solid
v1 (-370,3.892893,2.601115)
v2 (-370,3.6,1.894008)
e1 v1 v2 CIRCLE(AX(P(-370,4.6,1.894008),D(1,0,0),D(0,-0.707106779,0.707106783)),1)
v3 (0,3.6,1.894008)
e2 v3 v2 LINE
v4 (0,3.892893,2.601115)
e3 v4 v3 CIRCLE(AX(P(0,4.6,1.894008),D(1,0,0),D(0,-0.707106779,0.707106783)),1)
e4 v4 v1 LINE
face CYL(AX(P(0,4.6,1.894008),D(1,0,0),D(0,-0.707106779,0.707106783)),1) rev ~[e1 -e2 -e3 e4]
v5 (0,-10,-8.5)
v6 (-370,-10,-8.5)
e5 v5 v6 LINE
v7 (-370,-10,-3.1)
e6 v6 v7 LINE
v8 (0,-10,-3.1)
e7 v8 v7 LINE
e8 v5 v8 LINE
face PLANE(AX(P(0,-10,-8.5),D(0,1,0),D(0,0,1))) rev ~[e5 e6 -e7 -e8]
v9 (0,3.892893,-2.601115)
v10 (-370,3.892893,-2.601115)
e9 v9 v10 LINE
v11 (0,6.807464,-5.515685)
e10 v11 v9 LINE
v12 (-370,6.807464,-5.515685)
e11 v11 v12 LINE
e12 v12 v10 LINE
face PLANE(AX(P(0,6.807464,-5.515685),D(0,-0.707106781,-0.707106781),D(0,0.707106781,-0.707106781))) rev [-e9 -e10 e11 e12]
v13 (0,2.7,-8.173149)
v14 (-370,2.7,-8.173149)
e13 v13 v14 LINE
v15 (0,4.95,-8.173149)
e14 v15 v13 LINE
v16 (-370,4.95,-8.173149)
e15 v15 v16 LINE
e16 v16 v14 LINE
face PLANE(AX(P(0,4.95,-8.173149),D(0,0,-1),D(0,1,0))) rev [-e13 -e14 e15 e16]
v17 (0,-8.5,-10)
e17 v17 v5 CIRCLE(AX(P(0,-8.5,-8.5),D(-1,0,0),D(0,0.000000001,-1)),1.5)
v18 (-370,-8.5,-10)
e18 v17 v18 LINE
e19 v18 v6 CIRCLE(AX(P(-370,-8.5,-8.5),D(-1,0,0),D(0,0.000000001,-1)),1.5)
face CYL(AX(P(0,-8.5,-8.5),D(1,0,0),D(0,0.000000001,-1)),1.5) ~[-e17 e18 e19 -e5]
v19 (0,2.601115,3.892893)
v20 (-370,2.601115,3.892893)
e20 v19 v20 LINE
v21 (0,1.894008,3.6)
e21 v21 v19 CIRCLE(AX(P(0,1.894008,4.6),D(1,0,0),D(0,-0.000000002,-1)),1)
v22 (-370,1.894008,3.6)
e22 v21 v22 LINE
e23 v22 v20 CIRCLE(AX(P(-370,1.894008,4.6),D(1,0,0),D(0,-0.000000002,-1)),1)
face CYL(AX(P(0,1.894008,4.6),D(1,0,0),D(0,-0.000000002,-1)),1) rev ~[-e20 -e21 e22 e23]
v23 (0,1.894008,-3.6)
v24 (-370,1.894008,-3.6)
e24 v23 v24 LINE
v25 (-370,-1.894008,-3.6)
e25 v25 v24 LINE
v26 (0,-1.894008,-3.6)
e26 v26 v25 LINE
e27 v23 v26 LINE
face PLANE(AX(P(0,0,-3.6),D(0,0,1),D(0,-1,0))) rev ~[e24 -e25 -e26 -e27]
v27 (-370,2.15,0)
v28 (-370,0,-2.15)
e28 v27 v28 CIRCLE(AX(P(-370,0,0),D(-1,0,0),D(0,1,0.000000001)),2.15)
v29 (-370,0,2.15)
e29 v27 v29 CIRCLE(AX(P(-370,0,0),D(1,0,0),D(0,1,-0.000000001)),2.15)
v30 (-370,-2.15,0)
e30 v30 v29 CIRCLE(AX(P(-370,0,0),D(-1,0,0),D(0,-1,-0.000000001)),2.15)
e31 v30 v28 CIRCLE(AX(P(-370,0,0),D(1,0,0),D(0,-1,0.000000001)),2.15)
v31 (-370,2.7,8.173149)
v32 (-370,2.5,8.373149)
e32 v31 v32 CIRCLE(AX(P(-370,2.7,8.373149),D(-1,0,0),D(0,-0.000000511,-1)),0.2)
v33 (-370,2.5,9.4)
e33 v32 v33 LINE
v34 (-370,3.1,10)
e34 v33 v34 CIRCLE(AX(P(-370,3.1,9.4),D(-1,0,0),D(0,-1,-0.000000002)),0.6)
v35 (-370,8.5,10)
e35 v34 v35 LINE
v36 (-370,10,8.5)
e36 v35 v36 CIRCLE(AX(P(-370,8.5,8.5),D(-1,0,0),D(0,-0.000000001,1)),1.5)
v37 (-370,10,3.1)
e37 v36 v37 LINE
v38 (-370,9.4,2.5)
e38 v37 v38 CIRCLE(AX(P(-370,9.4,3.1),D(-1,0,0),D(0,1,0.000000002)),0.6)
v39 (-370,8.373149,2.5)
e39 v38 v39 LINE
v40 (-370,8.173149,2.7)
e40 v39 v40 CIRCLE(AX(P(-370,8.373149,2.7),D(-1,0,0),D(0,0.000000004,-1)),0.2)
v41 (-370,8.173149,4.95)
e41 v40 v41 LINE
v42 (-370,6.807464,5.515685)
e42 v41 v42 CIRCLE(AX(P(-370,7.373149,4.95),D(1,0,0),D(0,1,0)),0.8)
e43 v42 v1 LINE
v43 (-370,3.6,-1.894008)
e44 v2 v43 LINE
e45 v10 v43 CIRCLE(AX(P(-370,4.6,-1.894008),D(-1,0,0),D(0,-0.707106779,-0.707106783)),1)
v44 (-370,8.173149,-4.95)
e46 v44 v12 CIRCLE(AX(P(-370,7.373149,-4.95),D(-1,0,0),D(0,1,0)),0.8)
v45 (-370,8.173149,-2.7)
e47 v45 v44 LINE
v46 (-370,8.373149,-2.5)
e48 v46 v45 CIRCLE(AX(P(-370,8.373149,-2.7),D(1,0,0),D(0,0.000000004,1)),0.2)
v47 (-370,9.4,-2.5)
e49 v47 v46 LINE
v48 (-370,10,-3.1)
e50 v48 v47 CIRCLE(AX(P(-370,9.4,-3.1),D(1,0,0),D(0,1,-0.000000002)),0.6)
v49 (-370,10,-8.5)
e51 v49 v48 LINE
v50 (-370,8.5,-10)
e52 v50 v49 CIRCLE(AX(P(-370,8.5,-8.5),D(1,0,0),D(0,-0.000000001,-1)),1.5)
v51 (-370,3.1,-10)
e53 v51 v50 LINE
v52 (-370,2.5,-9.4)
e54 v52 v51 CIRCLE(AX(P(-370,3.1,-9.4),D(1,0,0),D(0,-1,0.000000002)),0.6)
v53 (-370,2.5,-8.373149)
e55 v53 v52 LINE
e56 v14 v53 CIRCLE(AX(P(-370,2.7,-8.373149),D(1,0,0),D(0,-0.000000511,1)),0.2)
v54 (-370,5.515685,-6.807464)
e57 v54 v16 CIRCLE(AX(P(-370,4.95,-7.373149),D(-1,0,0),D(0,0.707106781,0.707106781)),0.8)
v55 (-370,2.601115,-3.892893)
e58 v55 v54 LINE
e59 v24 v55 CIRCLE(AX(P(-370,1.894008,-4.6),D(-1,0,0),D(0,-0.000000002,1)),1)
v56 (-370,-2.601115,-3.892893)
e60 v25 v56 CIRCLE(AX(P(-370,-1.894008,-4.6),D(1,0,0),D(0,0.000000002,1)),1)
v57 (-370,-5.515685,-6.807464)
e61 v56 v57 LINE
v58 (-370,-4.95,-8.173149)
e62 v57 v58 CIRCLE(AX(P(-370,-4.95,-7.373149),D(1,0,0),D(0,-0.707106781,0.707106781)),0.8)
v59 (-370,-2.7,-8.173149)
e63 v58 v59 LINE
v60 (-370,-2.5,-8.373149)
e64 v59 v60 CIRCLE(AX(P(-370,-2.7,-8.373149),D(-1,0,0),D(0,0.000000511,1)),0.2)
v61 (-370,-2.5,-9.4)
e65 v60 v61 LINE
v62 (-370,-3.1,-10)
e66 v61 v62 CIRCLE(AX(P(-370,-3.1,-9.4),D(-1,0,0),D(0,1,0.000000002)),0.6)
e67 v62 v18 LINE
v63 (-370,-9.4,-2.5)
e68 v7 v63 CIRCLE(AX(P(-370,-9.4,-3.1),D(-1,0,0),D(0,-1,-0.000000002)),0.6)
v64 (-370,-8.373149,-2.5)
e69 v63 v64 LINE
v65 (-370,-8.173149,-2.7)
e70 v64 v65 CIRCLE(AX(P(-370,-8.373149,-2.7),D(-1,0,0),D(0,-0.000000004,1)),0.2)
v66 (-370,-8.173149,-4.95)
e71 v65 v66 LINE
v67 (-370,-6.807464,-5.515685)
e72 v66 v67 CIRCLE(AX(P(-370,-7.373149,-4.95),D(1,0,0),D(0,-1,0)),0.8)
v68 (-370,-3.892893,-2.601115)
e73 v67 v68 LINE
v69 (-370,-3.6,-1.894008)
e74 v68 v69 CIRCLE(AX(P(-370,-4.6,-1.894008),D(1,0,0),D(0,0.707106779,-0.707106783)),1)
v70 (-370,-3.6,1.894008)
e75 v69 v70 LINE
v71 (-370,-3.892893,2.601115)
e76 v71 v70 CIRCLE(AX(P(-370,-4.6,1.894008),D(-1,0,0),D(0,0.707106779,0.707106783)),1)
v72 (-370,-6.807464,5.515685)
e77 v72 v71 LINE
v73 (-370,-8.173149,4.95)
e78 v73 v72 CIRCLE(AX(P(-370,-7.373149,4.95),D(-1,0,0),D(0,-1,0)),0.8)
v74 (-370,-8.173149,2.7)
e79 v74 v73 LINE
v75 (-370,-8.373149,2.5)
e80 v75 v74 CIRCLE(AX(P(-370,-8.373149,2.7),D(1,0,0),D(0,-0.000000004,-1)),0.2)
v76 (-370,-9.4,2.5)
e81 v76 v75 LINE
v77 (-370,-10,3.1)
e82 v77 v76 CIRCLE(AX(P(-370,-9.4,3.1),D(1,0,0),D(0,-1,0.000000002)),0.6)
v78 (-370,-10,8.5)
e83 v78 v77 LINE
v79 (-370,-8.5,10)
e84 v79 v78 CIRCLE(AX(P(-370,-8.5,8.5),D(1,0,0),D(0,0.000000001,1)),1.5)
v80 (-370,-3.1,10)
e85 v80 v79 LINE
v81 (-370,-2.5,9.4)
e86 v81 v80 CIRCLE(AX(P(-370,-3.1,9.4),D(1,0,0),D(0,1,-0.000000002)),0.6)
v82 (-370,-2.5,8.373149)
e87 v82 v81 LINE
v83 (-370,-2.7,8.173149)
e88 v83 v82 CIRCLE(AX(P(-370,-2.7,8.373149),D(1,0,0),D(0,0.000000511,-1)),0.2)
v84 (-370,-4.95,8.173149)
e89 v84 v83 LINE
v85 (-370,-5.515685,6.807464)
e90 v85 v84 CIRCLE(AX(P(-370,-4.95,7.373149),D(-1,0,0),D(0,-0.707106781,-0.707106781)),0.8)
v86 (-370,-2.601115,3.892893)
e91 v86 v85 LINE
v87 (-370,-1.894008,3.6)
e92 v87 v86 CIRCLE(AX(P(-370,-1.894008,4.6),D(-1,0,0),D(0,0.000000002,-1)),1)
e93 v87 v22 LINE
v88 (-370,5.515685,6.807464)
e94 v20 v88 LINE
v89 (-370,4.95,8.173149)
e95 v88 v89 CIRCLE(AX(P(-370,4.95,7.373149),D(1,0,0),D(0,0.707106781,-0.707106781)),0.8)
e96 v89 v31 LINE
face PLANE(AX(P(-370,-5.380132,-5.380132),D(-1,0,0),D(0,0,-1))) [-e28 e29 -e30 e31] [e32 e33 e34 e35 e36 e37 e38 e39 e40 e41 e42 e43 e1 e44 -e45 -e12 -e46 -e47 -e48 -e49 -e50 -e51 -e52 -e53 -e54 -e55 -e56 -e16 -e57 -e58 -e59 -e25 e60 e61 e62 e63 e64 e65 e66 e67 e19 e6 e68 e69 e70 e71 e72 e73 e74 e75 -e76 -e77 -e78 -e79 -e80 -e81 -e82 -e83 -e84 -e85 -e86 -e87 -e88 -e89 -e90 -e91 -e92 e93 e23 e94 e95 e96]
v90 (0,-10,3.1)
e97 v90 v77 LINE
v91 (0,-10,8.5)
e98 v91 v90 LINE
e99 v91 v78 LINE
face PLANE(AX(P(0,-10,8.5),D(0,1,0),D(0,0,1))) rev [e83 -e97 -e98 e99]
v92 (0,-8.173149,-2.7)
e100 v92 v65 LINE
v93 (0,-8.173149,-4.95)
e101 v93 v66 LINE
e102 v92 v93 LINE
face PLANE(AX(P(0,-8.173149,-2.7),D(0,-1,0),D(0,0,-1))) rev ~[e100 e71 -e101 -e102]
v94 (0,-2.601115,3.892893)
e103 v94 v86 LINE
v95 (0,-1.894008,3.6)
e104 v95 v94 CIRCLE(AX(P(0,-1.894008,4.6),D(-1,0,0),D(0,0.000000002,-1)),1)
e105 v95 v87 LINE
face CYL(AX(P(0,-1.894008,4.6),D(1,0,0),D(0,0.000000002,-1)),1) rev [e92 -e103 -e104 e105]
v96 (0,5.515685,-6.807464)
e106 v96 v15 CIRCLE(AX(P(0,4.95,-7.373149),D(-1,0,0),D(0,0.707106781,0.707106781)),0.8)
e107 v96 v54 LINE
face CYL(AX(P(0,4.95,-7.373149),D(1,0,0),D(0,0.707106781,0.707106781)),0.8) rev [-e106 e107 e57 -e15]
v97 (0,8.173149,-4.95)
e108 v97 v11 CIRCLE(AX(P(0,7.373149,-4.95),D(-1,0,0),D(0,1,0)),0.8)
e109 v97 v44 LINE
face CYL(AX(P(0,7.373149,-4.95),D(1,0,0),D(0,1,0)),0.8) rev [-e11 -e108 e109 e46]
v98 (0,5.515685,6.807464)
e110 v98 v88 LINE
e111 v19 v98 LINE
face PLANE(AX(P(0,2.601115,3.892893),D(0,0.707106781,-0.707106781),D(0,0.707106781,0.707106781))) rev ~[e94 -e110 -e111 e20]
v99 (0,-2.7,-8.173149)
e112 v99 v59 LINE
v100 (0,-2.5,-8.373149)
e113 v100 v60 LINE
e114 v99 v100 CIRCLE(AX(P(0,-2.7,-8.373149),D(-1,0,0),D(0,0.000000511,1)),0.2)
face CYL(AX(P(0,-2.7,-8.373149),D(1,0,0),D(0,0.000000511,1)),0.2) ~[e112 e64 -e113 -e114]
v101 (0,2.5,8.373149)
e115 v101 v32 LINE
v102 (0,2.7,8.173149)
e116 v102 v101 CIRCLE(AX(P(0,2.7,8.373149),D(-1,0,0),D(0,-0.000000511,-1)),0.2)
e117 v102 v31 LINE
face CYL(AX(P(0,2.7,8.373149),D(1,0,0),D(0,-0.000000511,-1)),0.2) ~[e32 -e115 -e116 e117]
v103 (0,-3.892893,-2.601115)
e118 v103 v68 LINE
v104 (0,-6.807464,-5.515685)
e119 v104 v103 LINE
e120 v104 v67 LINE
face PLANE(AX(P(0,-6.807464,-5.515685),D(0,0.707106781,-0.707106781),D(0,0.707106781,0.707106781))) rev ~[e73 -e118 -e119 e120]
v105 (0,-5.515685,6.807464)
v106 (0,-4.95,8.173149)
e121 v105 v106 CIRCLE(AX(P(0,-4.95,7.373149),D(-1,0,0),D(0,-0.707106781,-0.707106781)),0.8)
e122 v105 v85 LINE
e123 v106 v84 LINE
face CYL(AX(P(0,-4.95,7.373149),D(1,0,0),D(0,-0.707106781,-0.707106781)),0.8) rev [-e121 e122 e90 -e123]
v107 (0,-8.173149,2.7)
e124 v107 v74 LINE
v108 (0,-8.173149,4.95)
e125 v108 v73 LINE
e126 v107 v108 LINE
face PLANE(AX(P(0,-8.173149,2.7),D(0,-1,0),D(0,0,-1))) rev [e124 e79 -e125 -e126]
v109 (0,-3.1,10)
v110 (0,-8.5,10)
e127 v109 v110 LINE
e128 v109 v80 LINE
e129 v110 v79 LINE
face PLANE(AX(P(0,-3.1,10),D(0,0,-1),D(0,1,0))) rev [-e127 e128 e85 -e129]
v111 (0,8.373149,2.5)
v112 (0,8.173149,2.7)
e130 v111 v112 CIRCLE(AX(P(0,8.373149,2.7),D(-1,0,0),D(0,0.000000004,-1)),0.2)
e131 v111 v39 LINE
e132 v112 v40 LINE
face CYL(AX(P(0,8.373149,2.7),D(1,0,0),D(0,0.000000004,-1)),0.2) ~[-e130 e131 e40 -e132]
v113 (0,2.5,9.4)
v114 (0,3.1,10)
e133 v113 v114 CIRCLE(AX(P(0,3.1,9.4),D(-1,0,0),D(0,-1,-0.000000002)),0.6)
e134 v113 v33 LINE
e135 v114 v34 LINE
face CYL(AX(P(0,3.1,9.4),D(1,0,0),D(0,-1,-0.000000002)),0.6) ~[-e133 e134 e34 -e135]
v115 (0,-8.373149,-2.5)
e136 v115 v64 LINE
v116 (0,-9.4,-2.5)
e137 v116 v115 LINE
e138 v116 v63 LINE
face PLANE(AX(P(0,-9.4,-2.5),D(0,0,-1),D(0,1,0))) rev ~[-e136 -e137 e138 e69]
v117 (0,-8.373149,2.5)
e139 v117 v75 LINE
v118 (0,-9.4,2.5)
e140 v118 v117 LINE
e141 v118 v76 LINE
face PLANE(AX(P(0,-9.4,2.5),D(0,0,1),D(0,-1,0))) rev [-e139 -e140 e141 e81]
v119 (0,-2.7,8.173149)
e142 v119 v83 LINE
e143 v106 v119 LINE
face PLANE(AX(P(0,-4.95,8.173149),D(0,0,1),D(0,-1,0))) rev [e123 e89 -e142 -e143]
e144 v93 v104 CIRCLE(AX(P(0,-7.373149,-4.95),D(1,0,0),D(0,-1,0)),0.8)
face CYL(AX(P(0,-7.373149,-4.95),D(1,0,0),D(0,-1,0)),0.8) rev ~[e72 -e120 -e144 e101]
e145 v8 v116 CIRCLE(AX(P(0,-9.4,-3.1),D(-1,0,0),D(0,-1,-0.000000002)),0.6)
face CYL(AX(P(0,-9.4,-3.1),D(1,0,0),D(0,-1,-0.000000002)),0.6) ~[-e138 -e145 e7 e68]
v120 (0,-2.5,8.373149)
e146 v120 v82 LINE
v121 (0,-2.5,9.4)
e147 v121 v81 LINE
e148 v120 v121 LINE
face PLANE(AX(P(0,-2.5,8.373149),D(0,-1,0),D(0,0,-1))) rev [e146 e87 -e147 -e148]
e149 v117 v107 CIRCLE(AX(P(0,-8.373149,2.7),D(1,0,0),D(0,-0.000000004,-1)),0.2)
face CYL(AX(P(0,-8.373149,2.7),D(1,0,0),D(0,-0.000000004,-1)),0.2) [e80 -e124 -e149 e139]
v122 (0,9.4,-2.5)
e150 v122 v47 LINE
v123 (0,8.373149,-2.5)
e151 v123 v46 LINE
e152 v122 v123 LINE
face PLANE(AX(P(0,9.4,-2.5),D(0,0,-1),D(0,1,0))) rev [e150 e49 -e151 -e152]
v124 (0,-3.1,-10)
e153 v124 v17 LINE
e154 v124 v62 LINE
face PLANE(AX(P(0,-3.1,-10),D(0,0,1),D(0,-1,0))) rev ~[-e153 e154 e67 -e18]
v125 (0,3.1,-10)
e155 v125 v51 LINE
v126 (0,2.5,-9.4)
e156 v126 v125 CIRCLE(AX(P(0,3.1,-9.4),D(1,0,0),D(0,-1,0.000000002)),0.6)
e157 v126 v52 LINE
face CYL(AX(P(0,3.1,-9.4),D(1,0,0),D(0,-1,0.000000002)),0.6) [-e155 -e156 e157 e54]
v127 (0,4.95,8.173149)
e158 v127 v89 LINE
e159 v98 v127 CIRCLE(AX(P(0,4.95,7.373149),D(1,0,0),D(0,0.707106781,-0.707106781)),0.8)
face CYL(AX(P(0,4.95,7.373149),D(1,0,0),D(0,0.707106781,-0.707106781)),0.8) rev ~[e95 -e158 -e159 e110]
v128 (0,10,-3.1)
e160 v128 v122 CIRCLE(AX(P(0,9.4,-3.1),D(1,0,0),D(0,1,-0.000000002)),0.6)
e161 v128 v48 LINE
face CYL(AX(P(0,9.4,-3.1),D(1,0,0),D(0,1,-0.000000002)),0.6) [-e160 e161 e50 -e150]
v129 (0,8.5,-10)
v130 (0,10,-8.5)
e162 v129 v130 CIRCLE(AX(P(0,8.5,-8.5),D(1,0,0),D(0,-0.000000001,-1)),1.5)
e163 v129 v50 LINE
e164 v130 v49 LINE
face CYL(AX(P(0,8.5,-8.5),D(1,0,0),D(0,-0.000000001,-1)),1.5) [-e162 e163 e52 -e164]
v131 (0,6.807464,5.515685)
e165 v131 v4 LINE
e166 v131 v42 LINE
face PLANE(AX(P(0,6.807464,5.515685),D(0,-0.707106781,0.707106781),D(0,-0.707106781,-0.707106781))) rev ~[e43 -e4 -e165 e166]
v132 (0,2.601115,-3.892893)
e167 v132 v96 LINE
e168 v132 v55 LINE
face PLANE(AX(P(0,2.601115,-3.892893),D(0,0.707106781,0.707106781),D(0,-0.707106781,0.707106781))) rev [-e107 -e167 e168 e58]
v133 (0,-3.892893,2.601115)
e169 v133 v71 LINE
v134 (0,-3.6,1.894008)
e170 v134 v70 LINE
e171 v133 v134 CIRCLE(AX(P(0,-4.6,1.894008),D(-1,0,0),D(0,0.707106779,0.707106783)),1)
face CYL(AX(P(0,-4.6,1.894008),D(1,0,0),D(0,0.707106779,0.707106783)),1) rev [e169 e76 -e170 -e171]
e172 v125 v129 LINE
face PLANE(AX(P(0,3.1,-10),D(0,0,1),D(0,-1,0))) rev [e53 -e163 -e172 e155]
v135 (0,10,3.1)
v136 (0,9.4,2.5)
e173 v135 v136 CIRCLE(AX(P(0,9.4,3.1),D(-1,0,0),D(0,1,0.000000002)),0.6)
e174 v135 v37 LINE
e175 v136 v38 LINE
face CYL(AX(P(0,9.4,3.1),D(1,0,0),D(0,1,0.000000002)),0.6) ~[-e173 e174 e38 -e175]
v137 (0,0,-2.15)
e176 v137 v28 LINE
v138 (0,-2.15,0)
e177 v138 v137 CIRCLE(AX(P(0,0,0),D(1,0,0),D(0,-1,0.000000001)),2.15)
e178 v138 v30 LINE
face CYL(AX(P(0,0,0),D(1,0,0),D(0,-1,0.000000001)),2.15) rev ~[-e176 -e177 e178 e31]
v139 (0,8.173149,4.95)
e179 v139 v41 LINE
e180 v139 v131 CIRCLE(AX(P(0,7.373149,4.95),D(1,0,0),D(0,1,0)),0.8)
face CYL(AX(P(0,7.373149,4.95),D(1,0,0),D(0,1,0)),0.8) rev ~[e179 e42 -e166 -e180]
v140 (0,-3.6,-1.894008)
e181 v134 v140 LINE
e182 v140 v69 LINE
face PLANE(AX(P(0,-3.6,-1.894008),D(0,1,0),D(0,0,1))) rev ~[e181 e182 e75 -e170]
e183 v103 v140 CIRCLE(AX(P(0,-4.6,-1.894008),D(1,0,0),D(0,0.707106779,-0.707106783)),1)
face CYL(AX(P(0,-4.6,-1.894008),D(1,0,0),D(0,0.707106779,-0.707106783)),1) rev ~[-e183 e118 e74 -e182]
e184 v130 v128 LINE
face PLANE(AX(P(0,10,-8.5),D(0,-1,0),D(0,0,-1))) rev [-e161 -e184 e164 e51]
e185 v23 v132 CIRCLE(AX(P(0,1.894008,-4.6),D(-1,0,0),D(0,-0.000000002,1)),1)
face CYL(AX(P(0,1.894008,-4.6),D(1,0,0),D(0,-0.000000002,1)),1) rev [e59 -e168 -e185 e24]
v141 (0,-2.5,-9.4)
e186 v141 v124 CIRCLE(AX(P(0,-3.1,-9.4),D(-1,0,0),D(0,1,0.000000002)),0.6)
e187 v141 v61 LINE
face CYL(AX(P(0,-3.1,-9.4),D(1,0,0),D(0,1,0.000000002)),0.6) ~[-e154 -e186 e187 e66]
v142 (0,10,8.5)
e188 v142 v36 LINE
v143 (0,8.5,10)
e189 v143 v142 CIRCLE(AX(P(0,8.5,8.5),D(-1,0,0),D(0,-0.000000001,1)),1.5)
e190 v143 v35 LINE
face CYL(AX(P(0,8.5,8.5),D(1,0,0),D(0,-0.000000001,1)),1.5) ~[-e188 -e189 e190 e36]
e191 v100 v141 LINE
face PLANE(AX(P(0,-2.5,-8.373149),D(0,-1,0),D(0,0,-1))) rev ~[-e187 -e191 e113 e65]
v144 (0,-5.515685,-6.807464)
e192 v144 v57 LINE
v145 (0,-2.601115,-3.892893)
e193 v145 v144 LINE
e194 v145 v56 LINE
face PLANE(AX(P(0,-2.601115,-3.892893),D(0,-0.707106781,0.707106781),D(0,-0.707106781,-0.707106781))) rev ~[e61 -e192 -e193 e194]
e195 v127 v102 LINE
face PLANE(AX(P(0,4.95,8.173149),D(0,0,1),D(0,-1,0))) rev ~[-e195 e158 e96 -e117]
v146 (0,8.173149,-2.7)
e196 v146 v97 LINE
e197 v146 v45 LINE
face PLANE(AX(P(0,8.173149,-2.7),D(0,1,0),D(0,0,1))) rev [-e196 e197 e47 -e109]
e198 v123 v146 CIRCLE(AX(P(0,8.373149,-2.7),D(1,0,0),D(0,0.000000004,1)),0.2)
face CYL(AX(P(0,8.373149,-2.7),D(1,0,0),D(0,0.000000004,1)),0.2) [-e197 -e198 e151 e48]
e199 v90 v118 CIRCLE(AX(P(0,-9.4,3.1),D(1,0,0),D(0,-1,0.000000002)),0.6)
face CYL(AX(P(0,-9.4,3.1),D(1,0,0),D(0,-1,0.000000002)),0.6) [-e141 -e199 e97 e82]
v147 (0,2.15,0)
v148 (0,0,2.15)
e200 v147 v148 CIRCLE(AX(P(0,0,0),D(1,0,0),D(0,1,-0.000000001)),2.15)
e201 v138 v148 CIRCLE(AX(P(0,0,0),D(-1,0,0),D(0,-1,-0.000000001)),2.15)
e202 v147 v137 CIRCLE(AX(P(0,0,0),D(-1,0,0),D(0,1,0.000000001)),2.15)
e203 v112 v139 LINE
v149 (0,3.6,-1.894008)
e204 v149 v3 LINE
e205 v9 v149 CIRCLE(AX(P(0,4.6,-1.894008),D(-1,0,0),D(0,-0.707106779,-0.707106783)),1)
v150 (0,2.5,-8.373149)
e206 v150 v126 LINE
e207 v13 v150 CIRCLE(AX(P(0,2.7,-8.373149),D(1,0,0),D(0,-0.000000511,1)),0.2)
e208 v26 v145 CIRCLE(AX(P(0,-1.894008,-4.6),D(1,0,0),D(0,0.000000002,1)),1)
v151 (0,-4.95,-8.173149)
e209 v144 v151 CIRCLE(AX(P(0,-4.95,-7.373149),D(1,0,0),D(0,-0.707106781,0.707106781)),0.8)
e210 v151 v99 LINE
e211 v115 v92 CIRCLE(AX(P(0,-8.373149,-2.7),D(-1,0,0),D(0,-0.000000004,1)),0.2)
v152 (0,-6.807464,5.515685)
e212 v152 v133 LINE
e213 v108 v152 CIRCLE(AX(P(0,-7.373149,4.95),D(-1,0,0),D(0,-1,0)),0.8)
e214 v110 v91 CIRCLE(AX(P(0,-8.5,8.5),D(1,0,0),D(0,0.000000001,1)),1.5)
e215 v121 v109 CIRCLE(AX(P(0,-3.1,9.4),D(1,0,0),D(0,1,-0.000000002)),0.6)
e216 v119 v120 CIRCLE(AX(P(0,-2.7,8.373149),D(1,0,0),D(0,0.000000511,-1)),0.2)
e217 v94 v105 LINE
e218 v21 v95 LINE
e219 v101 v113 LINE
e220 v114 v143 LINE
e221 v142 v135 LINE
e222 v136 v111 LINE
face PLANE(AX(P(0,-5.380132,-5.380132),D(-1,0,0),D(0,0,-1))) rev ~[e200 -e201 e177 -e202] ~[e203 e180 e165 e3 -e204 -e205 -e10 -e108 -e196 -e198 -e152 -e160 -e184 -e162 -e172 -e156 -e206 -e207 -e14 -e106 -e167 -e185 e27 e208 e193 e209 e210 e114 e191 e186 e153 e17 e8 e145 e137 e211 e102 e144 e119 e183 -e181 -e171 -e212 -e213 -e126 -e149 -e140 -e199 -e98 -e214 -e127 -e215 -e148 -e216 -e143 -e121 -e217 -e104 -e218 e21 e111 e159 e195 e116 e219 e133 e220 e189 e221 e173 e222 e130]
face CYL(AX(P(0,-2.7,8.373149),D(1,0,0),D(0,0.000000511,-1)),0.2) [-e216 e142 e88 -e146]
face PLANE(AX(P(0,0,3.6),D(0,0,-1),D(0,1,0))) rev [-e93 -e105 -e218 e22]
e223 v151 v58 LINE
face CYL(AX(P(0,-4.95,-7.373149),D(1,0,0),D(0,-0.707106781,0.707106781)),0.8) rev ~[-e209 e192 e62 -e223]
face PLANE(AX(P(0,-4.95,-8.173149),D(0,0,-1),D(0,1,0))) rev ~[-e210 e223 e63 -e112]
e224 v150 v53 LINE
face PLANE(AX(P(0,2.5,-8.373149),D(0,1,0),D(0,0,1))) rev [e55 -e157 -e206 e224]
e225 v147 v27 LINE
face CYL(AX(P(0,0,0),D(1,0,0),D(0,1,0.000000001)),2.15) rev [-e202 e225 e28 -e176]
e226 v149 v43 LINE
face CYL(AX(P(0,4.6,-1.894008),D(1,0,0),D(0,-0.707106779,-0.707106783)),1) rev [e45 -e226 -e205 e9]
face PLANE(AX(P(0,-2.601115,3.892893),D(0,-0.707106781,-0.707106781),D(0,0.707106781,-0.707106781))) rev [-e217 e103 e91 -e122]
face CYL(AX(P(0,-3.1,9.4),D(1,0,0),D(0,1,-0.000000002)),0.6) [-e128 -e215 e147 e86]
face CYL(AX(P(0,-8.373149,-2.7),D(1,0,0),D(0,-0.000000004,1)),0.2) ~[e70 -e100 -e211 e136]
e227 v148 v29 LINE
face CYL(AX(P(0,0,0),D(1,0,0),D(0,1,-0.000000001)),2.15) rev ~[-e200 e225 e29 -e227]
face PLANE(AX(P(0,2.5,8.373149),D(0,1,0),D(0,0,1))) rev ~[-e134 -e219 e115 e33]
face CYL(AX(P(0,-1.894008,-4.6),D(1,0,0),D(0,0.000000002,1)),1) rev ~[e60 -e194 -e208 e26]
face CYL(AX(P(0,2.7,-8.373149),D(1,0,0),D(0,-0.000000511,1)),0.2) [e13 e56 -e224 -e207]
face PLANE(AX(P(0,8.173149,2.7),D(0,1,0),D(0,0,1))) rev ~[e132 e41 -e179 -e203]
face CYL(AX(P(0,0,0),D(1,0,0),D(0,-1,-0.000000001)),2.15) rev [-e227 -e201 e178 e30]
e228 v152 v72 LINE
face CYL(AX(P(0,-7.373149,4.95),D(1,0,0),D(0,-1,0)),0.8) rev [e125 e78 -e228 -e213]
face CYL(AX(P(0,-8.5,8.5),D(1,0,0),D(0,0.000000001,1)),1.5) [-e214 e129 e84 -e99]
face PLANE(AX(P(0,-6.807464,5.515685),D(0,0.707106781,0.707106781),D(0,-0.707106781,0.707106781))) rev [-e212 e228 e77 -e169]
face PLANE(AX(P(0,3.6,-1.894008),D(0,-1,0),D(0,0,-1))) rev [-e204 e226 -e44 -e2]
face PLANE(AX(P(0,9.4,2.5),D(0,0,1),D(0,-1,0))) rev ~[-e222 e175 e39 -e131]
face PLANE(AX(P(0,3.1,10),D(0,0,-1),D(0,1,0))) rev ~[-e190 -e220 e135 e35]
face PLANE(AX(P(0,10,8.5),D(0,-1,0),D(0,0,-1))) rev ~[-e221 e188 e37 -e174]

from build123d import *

# Parameters (mm, degrees)
BOSS_EXTRUDE1_DEPTH = 370


with BuildPart() as part:
    # Sketch3 → Boss-Extrude1 (new body)
    with BuildSketch(Plane(origin=(0, 0, 0), x_dir=(0, 0, -1), z_dir=(1, 0, 0))):
        with BuildLine():
            Line((-5.515685425, 6.807463915), (-2.601114729, 3.892893219))
            ThreePointArc((-2.601114729, 3.892893219), (-2.27669138, 3.676120467), (-1.894007948, 3.6))
            Line((-1.894007948, 3.6), (0, 3.6))
            Line((0, 3.6), (0, 2.15))
            ThreePointArc((0, 2.15), (-1.52027958, 1.52027958), (-2.15, 0))
            Line((-2.15, 0), (-3.6, 0))
            Line((-3.6, 0), (-3.6, 1.894007948))
            ThreePointArc((-3.6, 1.894007948), (-3.676120467, 2.27669138), (-3.892893219, 2.601114729))
            Line((-3.892893219, 2.601114729), (-6.807463915, 5.515685425))
            ThreePointArc((-6.807463915, 5.515685425), (-7.679296086, 5.689103626), (-8.17314934, 4.95))
            Line((-8.17314934, 4.95), (-8.17314934, 2.699999897))
            ThreePointArc((-8.17314934, 2.699999897), (-8.23172802, 2.558578607), (-8.37314934, 2.5))
            Line((-8.37314934, 2.5), (-9.4, 2.5))
            ThreePointArc((-9.4, 2.5), (-9.824264069, 2.675735931), (-10, 3.1))
            Line((-10, 3.1), (-10, 8.5))
            ThreePointArc((-10, 8.5), (-9.560660172, 9.560660172), (-8.5, 10))
            Line((-8.5, 10), (-3.1, 10))
            ThreePointArc((-3.1, 10), (-2.675735931, 9.824264069), (-2.5, 9.4))
            Line((-2.5, 9.4), (-2.5, 8.37314934))
            ThreePointArc((-2.5, 8.37314934), (-2.558578607, 8.23172802), (-2.699999897, 8.17314934))
            Line((-2.699999897, 8.17314934), (-4.95, 8.17314934))
            ThreePointArc((-4.95, 8.17314934), (-5.689103626, 7.679296086), (-5.515685425, 6.807463915))
        make_face()
    extrude(amount=-BOSS_EXTRUDE1_DEPTH)

    # Mirror1: part across plane


with BuildPart() as part_1:
    add(part.part)
    add(part.part.mirror(Plane.ZX))

    # Mirror2: part across plane


with BuildPart() as part_2:
    add(part_1.part)
    add(part_1.part.mirror(Plane.XY))


solid = part_2.part
